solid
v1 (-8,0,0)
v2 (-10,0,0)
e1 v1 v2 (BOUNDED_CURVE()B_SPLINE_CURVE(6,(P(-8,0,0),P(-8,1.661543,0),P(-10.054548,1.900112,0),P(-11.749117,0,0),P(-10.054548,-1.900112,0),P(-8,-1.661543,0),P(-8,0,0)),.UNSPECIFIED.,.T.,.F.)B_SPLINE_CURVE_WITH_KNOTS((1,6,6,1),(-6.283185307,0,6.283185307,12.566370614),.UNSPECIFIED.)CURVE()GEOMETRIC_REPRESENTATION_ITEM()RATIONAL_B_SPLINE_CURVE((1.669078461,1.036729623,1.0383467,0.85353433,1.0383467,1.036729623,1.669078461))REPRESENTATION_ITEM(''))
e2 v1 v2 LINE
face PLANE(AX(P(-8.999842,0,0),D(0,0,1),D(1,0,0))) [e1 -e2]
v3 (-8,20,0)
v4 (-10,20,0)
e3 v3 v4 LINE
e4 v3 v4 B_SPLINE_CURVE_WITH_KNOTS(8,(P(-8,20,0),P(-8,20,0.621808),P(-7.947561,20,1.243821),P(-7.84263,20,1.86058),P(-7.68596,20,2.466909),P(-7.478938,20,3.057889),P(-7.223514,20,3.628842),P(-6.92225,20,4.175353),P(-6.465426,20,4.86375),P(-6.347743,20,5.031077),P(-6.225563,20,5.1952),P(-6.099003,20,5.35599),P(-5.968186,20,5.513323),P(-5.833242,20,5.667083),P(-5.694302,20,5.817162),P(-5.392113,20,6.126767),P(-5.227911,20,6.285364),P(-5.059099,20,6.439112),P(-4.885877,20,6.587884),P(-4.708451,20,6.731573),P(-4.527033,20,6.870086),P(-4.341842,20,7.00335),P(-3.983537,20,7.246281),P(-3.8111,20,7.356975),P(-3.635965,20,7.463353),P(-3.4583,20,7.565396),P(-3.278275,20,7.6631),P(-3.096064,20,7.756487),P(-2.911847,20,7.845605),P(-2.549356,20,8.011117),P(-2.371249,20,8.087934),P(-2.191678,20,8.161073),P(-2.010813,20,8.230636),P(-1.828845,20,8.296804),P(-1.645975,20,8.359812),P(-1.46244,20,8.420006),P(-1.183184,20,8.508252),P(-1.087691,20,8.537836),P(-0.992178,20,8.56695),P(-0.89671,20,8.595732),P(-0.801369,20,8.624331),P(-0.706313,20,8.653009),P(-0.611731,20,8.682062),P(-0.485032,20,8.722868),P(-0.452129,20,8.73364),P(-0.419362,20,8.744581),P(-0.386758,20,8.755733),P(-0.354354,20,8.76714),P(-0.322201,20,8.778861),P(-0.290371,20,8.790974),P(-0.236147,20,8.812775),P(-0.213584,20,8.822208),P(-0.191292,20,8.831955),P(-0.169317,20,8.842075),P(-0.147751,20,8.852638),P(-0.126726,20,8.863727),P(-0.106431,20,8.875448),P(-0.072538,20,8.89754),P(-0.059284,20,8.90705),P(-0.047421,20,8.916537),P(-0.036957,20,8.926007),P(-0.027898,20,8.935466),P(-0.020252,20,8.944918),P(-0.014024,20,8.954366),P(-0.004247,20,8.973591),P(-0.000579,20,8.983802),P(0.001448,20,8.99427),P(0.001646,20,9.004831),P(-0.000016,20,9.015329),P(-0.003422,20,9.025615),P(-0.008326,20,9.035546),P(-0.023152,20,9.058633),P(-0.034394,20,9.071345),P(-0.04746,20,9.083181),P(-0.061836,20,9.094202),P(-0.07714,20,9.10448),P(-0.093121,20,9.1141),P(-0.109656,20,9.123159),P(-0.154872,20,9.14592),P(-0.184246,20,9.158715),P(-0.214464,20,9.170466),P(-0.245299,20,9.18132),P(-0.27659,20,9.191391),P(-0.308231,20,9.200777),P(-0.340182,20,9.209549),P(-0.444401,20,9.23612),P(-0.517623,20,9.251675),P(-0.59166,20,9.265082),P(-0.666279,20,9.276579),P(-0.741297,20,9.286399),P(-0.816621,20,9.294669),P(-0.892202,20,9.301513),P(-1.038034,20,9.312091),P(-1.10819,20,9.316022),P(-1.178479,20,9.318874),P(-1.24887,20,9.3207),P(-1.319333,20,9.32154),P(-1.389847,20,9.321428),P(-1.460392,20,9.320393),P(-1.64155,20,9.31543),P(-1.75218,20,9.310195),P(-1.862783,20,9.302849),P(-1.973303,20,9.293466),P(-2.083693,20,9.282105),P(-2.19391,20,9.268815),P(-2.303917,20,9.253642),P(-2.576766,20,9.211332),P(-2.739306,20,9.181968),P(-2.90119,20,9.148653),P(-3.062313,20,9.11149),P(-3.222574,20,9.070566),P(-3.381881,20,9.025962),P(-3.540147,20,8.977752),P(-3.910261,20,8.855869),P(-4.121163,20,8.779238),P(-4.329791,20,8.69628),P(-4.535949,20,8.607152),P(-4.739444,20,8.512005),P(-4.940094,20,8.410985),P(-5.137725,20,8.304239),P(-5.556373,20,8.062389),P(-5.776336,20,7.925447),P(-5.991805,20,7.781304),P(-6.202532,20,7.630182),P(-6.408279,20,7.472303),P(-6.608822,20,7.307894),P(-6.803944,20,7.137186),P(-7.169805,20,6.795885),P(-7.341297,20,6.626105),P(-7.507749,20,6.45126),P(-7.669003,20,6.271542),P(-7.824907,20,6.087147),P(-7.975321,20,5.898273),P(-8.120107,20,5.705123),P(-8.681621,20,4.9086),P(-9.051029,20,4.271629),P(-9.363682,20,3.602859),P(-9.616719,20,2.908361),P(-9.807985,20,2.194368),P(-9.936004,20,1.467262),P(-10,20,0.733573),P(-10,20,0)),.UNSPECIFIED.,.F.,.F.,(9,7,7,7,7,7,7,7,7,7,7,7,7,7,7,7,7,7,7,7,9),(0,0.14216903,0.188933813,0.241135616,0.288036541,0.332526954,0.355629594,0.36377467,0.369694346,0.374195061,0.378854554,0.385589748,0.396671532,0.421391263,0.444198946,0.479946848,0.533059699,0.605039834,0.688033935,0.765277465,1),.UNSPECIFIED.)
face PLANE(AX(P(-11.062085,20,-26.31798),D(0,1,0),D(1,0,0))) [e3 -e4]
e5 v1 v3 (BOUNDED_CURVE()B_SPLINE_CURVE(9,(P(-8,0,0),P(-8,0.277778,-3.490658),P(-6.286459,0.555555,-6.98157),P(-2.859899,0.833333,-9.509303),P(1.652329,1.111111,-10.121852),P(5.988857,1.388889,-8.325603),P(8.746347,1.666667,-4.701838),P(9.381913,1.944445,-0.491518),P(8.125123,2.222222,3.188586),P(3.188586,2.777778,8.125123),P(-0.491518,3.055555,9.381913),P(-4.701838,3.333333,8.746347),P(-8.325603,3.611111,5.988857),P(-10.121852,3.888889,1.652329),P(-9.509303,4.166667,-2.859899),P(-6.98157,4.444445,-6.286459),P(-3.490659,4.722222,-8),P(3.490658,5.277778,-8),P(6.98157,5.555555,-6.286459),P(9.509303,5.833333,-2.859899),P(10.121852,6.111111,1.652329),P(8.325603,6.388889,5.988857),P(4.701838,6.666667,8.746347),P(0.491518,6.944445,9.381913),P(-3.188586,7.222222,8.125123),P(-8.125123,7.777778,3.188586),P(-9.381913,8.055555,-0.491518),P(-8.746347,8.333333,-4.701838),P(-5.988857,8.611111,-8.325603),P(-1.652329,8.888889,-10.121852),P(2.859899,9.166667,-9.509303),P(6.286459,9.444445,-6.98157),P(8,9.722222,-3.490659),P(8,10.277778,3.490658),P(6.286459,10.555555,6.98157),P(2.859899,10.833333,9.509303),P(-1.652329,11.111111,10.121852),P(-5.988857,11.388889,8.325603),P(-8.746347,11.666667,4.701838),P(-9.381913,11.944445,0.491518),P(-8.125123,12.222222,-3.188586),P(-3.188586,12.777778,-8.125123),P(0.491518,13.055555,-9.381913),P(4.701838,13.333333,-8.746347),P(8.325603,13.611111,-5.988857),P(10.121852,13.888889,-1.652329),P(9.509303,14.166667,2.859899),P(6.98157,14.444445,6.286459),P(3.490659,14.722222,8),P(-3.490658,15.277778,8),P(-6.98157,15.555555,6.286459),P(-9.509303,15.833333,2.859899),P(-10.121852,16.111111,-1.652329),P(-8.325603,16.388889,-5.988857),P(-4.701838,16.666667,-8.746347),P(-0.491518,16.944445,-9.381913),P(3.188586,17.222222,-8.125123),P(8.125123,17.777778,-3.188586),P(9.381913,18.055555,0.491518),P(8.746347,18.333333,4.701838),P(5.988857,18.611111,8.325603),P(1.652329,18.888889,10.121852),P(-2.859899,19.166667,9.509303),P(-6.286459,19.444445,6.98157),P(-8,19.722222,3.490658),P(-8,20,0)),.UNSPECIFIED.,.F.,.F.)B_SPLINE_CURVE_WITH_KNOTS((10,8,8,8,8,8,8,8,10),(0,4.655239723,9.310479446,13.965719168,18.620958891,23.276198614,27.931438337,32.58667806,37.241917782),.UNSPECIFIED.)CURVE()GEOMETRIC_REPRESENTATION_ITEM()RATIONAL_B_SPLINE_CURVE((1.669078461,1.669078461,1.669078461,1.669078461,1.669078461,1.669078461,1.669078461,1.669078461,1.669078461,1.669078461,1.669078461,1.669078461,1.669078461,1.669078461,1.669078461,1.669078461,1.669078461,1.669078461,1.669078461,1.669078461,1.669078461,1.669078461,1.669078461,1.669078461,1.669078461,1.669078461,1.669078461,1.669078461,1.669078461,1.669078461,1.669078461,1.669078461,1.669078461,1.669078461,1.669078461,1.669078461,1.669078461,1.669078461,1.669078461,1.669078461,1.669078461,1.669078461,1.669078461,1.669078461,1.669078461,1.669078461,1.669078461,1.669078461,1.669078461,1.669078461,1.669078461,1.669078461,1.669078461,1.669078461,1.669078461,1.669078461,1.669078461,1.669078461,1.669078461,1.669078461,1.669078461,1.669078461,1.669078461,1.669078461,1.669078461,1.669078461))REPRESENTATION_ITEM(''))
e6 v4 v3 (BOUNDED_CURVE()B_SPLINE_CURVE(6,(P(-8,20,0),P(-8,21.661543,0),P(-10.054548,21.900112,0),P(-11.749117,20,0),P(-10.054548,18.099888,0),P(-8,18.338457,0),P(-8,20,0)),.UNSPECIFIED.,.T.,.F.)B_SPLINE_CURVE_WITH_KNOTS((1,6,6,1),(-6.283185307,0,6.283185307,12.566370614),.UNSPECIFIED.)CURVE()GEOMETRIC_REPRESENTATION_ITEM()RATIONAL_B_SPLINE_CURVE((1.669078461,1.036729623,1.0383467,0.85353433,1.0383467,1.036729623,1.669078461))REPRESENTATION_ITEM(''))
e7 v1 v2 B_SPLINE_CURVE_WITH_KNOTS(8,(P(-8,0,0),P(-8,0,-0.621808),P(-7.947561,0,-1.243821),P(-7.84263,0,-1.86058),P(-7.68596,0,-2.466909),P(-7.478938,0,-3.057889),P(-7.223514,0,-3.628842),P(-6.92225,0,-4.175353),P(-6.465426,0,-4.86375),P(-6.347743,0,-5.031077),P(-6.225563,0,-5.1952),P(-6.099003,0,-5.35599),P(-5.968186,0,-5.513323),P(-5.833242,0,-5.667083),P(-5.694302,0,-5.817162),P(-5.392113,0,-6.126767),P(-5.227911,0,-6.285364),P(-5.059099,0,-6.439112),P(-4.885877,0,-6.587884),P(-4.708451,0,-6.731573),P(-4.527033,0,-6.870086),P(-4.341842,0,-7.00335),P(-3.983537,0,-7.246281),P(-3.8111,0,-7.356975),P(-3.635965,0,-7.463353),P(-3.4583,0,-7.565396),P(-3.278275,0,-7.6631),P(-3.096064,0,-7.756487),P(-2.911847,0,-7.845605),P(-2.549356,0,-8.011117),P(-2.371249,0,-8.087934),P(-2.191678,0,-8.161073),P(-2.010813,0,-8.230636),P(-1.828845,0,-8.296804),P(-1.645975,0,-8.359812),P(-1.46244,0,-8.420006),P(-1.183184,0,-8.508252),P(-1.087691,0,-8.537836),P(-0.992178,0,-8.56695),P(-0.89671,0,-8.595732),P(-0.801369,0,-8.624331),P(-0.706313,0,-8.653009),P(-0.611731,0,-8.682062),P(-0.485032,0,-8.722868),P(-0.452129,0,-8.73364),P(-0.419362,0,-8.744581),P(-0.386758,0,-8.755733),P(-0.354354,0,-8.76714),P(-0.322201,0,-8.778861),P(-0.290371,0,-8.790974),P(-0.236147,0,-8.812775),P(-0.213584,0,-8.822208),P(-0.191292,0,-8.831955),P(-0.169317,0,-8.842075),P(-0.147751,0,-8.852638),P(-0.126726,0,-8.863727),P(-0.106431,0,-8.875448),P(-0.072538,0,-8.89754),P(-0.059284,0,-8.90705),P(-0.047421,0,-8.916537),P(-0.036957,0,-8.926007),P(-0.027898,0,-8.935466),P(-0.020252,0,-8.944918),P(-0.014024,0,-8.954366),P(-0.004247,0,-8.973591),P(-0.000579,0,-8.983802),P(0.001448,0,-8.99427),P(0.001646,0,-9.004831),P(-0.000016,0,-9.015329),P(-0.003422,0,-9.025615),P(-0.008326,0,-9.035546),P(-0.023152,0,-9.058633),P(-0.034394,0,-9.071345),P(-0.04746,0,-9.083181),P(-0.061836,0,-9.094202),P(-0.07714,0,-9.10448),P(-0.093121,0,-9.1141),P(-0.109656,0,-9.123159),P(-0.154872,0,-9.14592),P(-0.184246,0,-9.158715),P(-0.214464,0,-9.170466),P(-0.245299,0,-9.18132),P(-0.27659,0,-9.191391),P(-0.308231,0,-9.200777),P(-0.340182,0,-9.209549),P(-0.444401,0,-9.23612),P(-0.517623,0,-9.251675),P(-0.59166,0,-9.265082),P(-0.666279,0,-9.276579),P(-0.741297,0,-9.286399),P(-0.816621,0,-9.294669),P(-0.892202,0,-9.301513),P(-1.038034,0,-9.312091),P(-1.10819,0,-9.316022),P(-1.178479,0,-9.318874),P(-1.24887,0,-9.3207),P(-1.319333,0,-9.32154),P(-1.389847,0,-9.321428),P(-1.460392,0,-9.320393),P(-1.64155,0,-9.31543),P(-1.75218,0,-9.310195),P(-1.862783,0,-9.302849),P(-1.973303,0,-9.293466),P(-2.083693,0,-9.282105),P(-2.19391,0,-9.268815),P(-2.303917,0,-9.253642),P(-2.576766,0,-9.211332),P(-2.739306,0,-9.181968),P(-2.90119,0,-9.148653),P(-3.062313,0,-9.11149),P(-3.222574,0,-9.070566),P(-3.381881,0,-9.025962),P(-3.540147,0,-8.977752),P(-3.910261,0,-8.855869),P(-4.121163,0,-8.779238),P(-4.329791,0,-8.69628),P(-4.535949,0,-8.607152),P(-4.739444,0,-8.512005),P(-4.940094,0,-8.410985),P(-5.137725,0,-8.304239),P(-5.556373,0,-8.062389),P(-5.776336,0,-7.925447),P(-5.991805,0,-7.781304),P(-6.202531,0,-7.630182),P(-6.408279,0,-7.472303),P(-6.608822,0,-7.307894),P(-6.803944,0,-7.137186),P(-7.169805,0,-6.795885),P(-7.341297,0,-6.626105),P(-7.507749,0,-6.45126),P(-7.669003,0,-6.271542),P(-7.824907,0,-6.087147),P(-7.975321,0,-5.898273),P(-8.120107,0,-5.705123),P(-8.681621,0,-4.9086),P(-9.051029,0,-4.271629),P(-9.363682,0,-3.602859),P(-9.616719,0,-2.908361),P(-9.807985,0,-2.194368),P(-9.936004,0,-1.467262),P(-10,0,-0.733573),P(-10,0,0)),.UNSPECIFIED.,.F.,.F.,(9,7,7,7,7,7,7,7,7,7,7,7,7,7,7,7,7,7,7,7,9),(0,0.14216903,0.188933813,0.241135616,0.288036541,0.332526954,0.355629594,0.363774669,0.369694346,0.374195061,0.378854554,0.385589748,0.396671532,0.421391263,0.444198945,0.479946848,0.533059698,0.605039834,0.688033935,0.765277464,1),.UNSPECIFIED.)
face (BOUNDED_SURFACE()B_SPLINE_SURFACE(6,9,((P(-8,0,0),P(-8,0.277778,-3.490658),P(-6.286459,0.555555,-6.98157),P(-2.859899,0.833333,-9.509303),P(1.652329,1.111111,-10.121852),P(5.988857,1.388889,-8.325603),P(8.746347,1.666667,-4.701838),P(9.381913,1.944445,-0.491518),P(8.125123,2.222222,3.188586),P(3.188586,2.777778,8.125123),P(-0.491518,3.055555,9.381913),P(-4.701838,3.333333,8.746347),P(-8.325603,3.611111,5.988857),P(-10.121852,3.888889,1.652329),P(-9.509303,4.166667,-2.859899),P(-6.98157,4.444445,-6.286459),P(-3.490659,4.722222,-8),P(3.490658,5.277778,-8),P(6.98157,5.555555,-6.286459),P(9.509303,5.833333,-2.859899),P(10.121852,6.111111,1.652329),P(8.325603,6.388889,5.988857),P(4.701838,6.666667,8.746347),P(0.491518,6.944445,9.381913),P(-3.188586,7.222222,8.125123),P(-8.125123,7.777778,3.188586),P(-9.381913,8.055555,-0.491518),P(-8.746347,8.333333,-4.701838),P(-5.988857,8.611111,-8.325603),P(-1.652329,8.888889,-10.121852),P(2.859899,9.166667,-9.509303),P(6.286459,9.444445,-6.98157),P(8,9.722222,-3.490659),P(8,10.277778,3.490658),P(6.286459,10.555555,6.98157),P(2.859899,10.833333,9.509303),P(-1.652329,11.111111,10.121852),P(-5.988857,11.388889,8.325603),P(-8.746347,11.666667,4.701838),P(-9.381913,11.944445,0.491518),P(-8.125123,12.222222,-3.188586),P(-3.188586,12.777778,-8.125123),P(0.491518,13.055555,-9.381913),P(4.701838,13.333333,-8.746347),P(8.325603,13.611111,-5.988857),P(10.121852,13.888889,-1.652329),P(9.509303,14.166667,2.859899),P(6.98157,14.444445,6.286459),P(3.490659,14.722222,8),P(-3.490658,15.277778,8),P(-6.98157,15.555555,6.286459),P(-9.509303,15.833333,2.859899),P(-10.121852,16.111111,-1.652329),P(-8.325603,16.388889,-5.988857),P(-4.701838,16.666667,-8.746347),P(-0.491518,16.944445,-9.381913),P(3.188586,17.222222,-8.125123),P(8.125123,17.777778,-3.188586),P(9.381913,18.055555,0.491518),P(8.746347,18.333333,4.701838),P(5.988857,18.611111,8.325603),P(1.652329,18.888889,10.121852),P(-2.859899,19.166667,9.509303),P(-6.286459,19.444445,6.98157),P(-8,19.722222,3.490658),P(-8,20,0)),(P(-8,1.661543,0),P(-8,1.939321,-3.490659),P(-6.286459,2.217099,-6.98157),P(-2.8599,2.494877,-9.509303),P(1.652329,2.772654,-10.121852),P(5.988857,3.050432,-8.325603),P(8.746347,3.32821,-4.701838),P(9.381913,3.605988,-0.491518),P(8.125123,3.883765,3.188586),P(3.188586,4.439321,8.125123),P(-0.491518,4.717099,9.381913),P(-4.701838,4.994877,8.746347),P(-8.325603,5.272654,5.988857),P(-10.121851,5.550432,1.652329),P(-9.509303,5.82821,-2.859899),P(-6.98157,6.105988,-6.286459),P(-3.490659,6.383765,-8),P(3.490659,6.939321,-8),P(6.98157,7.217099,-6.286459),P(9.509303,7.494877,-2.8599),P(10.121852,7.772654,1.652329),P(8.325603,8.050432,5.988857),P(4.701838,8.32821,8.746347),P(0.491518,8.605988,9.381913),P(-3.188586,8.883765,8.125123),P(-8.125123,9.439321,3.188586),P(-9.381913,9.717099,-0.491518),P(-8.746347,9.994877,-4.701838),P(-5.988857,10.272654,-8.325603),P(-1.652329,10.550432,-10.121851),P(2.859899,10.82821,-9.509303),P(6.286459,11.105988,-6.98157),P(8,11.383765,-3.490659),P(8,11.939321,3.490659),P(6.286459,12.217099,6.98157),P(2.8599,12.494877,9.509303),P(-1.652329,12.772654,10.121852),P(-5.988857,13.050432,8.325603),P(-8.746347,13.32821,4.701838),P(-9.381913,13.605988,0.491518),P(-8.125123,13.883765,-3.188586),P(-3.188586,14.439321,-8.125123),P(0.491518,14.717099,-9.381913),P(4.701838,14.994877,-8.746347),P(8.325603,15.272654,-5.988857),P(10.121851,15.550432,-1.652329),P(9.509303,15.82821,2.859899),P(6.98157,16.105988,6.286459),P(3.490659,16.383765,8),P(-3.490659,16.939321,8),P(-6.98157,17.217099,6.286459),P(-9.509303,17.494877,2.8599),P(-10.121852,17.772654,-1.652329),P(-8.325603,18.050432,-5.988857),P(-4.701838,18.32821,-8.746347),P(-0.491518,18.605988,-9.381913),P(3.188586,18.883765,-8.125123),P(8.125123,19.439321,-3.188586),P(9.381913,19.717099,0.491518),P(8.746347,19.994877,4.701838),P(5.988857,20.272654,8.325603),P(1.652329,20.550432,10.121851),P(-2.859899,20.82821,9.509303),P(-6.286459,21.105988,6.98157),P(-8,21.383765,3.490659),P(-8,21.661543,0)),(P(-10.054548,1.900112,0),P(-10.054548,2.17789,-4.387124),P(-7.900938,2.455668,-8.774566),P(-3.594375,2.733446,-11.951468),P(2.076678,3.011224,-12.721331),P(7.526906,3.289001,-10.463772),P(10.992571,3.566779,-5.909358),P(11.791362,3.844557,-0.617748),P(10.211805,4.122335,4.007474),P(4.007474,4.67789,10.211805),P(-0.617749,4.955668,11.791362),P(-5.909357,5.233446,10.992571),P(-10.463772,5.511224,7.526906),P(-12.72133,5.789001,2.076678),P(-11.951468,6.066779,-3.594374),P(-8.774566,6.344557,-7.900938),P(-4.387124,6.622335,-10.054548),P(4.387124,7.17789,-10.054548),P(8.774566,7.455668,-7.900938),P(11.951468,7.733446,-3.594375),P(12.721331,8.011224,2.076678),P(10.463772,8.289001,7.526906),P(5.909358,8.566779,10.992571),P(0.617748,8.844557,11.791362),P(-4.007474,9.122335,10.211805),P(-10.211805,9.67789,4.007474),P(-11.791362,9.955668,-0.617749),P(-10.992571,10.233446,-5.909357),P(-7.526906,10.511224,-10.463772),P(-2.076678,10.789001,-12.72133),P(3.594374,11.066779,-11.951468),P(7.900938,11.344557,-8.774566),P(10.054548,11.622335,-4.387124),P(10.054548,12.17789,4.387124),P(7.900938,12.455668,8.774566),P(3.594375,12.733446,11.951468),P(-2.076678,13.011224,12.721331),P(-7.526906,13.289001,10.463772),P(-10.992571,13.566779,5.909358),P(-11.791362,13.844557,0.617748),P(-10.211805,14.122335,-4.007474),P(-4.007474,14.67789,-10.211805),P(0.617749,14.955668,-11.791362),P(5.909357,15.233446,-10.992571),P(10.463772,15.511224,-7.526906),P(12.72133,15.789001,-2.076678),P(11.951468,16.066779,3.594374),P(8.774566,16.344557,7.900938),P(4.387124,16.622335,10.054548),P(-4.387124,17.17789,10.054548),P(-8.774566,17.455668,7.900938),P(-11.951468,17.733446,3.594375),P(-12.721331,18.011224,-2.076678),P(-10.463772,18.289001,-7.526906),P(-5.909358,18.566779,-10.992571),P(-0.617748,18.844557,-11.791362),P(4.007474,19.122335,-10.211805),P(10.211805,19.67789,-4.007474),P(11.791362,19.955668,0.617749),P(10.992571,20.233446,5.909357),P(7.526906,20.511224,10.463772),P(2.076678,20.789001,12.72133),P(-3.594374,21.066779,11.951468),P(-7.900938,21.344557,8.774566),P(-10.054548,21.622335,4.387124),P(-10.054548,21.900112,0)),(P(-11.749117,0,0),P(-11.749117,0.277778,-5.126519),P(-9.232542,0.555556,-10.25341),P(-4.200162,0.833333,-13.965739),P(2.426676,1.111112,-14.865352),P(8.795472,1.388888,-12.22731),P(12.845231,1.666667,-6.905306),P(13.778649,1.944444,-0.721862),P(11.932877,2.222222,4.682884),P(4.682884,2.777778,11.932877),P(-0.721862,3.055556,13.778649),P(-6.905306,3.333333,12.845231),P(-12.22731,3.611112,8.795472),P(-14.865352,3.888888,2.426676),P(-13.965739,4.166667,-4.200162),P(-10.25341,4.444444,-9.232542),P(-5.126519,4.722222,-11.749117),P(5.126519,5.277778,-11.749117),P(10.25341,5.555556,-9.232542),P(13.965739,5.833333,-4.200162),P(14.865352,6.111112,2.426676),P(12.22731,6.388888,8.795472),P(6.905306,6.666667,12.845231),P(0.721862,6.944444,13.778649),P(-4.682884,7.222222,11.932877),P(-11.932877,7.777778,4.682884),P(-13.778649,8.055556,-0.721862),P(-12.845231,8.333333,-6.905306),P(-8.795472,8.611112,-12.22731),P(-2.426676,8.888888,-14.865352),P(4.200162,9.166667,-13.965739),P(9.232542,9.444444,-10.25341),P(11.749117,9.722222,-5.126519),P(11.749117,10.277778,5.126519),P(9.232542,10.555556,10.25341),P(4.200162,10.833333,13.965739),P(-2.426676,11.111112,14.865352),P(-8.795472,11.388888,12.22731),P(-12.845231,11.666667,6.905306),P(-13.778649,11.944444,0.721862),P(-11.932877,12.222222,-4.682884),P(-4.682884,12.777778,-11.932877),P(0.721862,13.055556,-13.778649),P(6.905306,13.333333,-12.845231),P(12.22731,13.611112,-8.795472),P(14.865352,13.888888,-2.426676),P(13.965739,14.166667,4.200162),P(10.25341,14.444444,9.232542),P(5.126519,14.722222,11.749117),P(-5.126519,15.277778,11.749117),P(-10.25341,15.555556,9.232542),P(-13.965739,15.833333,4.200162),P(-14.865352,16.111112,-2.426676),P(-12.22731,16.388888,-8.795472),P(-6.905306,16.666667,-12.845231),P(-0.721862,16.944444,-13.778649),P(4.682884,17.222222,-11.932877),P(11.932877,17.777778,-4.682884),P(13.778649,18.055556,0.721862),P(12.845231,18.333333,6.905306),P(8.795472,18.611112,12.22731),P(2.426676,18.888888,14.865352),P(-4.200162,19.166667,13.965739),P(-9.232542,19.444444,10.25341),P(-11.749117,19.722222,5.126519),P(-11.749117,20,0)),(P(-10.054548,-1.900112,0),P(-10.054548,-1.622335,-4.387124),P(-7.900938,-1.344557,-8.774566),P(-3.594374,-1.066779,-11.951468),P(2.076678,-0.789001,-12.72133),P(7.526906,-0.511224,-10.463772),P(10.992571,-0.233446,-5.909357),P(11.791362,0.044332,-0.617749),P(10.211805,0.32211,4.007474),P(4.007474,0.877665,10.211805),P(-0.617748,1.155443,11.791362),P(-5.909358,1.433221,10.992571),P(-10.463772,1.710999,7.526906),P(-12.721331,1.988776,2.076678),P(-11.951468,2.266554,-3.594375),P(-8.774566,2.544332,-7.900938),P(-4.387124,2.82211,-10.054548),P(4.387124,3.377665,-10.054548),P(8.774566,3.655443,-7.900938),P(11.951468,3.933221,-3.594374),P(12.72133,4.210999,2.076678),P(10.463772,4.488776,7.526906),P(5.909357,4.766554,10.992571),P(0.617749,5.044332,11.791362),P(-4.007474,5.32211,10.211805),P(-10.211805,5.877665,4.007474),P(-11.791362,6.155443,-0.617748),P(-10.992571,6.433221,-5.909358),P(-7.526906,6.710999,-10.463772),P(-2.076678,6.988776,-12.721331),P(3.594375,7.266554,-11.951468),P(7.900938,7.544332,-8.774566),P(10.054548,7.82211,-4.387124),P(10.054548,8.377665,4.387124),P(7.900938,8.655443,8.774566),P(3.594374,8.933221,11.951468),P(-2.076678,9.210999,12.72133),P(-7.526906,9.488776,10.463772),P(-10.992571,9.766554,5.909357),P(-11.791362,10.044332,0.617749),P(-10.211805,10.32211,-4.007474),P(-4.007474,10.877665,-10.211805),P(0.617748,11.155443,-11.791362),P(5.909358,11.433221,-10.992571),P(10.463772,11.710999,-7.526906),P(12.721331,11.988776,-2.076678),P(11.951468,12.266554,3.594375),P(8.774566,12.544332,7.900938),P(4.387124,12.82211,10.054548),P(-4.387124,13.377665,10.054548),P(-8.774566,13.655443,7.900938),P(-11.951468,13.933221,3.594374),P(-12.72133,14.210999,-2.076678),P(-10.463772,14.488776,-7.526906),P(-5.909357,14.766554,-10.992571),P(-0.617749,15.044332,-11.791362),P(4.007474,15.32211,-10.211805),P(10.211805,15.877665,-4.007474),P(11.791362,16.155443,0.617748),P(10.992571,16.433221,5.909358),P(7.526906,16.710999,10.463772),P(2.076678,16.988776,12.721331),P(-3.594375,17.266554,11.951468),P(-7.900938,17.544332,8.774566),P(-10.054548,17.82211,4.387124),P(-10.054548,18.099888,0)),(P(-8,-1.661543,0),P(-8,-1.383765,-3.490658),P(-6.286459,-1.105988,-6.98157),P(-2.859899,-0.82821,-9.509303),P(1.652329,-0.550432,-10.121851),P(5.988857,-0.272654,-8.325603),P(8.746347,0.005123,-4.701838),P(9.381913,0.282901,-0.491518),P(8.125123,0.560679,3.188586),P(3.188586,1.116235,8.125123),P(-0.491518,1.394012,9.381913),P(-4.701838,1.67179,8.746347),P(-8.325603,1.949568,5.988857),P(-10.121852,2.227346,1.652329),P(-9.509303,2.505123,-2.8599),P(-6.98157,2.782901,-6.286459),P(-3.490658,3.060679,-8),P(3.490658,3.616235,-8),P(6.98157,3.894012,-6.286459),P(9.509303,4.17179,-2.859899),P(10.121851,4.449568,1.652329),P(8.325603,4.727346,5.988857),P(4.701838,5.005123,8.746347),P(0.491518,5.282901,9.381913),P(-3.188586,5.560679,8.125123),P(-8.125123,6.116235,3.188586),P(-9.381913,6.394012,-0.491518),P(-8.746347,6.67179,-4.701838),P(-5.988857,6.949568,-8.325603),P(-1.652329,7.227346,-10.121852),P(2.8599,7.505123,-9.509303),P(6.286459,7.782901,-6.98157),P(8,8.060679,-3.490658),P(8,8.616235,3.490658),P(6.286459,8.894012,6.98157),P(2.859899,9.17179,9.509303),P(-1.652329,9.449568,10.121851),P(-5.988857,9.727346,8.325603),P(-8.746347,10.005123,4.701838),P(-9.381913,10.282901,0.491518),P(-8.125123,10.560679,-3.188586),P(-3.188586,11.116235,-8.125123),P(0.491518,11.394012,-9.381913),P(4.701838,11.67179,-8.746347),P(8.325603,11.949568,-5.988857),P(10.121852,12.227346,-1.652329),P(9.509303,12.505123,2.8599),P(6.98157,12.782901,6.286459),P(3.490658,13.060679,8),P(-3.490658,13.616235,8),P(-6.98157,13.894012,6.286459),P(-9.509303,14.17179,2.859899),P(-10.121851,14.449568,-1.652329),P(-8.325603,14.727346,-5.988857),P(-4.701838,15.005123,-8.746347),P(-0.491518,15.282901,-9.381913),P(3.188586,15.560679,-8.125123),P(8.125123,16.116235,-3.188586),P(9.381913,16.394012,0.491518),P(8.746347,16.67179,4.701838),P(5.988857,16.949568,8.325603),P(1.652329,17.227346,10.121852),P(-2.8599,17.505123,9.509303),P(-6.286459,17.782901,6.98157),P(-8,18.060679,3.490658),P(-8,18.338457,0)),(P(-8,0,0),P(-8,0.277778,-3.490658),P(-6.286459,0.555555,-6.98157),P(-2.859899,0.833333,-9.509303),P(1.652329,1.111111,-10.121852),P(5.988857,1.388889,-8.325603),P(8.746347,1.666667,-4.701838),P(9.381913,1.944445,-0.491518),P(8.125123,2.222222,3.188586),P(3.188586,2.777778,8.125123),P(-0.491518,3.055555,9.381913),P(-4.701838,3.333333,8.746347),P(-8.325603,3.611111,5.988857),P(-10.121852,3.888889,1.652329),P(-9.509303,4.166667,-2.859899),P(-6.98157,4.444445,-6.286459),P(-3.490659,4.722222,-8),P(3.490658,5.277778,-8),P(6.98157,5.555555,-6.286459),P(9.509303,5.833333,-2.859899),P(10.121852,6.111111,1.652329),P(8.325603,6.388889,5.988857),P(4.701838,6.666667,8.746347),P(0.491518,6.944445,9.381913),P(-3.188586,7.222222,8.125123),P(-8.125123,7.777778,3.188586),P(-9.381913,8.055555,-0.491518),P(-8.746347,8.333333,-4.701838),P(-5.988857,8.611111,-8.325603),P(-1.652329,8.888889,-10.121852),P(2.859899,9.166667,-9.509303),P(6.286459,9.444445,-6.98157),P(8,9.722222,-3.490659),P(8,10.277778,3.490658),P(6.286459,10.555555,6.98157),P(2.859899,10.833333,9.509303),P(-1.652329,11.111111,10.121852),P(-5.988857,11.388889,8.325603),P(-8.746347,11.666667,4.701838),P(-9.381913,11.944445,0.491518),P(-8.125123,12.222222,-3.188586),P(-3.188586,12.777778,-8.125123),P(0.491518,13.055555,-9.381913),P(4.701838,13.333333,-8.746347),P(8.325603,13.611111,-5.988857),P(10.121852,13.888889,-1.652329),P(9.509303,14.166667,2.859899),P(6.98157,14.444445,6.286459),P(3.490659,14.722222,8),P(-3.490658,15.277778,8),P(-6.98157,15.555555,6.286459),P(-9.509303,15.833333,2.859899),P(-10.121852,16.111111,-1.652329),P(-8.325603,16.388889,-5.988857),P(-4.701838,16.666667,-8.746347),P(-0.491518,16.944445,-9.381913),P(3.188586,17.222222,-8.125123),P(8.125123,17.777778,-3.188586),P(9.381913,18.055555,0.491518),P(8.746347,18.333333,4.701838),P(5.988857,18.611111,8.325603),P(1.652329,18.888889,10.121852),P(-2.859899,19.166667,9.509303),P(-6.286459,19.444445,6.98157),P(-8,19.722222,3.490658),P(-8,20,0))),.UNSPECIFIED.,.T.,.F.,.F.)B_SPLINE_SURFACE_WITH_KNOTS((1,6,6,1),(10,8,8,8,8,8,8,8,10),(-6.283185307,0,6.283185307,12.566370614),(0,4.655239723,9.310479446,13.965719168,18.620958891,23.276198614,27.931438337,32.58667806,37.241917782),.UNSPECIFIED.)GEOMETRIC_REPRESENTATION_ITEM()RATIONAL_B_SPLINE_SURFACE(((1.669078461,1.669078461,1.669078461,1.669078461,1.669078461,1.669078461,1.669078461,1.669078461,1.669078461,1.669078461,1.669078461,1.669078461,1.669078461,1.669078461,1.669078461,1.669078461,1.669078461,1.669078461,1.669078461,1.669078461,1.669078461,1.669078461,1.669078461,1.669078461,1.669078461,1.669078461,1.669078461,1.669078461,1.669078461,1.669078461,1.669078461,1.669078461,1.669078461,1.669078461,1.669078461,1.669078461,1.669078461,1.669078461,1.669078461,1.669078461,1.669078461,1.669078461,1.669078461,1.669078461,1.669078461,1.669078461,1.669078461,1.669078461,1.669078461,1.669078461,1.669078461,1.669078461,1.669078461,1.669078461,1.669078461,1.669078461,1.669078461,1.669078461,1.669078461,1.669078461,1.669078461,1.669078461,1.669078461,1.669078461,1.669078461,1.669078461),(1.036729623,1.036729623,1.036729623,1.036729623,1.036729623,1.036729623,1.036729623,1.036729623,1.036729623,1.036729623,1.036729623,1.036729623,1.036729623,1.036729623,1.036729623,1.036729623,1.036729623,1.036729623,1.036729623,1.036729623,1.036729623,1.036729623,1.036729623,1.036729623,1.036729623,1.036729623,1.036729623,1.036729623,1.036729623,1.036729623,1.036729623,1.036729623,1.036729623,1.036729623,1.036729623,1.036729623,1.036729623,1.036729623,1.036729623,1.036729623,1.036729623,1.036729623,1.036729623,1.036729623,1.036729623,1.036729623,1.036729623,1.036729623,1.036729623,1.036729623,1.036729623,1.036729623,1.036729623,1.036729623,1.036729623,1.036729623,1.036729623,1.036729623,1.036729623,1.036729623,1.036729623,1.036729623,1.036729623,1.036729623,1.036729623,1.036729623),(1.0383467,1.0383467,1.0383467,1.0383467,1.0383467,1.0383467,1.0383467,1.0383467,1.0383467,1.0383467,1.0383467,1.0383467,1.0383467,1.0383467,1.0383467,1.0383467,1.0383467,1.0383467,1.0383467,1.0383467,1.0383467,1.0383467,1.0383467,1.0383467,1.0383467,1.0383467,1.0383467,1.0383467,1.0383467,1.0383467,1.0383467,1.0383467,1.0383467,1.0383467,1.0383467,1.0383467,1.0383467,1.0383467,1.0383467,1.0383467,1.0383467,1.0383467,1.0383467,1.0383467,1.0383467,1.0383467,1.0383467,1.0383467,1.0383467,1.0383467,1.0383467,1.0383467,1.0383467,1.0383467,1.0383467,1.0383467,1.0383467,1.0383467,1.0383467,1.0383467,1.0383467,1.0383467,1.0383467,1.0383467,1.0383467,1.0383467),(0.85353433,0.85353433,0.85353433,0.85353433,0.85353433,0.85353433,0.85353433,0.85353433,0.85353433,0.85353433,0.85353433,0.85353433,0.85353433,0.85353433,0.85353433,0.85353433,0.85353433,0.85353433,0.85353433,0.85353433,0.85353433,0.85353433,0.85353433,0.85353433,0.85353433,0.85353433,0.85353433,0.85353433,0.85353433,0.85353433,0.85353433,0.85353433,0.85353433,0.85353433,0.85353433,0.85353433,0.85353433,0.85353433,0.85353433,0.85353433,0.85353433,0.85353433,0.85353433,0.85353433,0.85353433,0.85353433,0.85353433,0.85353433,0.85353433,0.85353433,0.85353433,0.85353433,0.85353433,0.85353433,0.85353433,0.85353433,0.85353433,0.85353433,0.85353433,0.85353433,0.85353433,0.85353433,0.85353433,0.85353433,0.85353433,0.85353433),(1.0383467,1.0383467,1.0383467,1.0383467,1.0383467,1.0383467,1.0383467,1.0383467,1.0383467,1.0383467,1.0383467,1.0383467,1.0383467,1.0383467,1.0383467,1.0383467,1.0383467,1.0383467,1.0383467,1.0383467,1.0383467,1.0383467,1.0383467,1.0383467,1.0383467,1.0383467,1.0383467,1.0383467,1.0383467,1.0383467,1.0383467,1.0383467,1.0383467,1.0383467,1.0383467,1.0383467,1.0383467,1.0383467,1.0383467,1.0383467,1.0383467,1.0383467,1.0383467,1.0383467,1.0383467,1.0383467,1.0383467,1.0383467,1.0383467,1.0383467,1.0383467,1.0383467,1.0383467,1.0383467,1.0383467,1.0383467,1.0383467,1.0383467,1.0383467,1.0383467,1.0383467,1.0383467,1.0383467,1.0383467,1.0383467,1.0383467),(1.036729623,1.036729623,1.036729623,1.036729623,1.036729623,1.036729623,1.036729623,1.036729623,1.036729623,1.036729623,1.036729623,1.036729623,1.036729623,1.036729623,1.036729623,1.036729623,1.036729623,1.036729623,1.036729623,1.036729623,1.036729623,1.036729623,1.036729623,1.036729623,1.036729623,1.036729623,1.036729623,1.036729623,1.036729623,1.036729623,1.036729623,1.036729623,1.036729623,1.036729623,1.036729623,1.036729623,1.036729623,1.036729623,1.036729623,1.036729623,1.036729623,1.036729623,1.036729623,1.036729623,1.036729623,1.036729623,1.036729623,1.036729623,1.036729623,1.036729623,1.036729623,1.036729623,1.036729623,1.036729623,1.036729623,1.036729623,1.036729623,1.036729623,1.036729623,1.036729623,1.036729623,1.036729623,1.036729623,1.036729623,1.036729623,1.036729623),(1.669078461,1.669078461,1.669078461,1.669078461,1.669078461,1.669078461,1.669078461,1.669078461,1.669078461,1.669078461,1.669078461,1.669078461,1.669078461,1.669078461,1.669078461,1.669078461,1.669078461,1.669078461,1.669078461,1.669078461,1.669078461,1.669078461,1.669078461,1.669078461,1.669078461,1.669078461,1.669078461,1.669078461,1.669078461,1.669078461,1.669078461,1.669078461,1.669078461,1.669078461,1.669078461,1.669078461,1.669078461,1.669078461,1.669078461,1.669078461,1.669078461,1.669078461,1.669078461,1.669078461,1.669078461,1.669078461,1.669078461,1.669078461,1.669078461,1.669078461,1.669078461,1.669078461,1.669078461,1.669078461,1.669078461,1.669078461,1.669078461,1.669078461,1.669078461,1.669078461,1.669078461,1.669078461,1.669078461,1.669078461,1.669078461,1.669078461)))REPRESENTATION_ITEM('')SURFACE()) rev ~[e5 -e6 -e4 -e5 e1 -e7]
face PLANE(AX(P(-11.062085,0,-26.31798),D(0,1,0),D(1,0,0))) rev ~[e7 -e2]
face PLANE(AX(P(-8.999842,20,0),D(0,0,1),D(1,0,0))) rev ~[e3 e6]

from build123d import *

# Parameters (mm, degrees)
SWEEP1_PITCH            = 4
SWEEP1_HEIGHT           = 20
SWEEP1_RADIUS           = 9
SWEEP1_START_ANGLE      = -90
SKETCH2_R               = 1
CUT_EXTRUDE1_DEPTH      = 26.317979683
CUT_EXTRUDE1_DEPTH_BACK = 26.317979683
SKETCH3_W               = 23.412955559
SKETCH3_H               = 2.156362642
SKETCH3_W_2             = 24.11104827
SKETCH3_H_2             = 2.362775332


with BuildPart() as part:
    # Sweep1: sweep along a helix
    with BuildLine() as sweep1_path:
        add(Helix(SWEEP1_PITCH, SWEEP1_HEIGHT, SWEEP1_RADIUS, center=(0, 0, 0), direction=(0, 1, 0), lefthand=True, mode=Mode.PRIVATE).rotate(Axis((0, 0, 0), (0, 1, 0)), SWEEP1_START_ANGLE))
    # Sketch2 → Sweep1 (sweep)
    with BuildSketch(Plane.XY):
        with Locations((-9, 0)):
            Circle(SKETCH2_R)
    sweep(path=sweep1_path.line, is_frenet=True)

    # Sketch3 → Cut-Extrude1 (cut, two sides: drawn at the far end of the back side and taken through both)
    with BuildSketch(Plane.XY.offset(-CUT_EXTRUDE1_DEPTH_BACK)):
        with Locations((0.644393272, -1.078181321)):
            Rectangle(SKETCH3_W, SKETCH3_H)
        with Locations((0.993439628, 21.181387666)):
            Rectangle(SKETCH3_W_2, SKETCH3_H_2)
    extrude(amount=CUT_EXTRUDE1_DEPTH + CUT_EXTRUDE1_DEPTH_BACK, mode=Mode.SUBTRACT)


solid = part.part
